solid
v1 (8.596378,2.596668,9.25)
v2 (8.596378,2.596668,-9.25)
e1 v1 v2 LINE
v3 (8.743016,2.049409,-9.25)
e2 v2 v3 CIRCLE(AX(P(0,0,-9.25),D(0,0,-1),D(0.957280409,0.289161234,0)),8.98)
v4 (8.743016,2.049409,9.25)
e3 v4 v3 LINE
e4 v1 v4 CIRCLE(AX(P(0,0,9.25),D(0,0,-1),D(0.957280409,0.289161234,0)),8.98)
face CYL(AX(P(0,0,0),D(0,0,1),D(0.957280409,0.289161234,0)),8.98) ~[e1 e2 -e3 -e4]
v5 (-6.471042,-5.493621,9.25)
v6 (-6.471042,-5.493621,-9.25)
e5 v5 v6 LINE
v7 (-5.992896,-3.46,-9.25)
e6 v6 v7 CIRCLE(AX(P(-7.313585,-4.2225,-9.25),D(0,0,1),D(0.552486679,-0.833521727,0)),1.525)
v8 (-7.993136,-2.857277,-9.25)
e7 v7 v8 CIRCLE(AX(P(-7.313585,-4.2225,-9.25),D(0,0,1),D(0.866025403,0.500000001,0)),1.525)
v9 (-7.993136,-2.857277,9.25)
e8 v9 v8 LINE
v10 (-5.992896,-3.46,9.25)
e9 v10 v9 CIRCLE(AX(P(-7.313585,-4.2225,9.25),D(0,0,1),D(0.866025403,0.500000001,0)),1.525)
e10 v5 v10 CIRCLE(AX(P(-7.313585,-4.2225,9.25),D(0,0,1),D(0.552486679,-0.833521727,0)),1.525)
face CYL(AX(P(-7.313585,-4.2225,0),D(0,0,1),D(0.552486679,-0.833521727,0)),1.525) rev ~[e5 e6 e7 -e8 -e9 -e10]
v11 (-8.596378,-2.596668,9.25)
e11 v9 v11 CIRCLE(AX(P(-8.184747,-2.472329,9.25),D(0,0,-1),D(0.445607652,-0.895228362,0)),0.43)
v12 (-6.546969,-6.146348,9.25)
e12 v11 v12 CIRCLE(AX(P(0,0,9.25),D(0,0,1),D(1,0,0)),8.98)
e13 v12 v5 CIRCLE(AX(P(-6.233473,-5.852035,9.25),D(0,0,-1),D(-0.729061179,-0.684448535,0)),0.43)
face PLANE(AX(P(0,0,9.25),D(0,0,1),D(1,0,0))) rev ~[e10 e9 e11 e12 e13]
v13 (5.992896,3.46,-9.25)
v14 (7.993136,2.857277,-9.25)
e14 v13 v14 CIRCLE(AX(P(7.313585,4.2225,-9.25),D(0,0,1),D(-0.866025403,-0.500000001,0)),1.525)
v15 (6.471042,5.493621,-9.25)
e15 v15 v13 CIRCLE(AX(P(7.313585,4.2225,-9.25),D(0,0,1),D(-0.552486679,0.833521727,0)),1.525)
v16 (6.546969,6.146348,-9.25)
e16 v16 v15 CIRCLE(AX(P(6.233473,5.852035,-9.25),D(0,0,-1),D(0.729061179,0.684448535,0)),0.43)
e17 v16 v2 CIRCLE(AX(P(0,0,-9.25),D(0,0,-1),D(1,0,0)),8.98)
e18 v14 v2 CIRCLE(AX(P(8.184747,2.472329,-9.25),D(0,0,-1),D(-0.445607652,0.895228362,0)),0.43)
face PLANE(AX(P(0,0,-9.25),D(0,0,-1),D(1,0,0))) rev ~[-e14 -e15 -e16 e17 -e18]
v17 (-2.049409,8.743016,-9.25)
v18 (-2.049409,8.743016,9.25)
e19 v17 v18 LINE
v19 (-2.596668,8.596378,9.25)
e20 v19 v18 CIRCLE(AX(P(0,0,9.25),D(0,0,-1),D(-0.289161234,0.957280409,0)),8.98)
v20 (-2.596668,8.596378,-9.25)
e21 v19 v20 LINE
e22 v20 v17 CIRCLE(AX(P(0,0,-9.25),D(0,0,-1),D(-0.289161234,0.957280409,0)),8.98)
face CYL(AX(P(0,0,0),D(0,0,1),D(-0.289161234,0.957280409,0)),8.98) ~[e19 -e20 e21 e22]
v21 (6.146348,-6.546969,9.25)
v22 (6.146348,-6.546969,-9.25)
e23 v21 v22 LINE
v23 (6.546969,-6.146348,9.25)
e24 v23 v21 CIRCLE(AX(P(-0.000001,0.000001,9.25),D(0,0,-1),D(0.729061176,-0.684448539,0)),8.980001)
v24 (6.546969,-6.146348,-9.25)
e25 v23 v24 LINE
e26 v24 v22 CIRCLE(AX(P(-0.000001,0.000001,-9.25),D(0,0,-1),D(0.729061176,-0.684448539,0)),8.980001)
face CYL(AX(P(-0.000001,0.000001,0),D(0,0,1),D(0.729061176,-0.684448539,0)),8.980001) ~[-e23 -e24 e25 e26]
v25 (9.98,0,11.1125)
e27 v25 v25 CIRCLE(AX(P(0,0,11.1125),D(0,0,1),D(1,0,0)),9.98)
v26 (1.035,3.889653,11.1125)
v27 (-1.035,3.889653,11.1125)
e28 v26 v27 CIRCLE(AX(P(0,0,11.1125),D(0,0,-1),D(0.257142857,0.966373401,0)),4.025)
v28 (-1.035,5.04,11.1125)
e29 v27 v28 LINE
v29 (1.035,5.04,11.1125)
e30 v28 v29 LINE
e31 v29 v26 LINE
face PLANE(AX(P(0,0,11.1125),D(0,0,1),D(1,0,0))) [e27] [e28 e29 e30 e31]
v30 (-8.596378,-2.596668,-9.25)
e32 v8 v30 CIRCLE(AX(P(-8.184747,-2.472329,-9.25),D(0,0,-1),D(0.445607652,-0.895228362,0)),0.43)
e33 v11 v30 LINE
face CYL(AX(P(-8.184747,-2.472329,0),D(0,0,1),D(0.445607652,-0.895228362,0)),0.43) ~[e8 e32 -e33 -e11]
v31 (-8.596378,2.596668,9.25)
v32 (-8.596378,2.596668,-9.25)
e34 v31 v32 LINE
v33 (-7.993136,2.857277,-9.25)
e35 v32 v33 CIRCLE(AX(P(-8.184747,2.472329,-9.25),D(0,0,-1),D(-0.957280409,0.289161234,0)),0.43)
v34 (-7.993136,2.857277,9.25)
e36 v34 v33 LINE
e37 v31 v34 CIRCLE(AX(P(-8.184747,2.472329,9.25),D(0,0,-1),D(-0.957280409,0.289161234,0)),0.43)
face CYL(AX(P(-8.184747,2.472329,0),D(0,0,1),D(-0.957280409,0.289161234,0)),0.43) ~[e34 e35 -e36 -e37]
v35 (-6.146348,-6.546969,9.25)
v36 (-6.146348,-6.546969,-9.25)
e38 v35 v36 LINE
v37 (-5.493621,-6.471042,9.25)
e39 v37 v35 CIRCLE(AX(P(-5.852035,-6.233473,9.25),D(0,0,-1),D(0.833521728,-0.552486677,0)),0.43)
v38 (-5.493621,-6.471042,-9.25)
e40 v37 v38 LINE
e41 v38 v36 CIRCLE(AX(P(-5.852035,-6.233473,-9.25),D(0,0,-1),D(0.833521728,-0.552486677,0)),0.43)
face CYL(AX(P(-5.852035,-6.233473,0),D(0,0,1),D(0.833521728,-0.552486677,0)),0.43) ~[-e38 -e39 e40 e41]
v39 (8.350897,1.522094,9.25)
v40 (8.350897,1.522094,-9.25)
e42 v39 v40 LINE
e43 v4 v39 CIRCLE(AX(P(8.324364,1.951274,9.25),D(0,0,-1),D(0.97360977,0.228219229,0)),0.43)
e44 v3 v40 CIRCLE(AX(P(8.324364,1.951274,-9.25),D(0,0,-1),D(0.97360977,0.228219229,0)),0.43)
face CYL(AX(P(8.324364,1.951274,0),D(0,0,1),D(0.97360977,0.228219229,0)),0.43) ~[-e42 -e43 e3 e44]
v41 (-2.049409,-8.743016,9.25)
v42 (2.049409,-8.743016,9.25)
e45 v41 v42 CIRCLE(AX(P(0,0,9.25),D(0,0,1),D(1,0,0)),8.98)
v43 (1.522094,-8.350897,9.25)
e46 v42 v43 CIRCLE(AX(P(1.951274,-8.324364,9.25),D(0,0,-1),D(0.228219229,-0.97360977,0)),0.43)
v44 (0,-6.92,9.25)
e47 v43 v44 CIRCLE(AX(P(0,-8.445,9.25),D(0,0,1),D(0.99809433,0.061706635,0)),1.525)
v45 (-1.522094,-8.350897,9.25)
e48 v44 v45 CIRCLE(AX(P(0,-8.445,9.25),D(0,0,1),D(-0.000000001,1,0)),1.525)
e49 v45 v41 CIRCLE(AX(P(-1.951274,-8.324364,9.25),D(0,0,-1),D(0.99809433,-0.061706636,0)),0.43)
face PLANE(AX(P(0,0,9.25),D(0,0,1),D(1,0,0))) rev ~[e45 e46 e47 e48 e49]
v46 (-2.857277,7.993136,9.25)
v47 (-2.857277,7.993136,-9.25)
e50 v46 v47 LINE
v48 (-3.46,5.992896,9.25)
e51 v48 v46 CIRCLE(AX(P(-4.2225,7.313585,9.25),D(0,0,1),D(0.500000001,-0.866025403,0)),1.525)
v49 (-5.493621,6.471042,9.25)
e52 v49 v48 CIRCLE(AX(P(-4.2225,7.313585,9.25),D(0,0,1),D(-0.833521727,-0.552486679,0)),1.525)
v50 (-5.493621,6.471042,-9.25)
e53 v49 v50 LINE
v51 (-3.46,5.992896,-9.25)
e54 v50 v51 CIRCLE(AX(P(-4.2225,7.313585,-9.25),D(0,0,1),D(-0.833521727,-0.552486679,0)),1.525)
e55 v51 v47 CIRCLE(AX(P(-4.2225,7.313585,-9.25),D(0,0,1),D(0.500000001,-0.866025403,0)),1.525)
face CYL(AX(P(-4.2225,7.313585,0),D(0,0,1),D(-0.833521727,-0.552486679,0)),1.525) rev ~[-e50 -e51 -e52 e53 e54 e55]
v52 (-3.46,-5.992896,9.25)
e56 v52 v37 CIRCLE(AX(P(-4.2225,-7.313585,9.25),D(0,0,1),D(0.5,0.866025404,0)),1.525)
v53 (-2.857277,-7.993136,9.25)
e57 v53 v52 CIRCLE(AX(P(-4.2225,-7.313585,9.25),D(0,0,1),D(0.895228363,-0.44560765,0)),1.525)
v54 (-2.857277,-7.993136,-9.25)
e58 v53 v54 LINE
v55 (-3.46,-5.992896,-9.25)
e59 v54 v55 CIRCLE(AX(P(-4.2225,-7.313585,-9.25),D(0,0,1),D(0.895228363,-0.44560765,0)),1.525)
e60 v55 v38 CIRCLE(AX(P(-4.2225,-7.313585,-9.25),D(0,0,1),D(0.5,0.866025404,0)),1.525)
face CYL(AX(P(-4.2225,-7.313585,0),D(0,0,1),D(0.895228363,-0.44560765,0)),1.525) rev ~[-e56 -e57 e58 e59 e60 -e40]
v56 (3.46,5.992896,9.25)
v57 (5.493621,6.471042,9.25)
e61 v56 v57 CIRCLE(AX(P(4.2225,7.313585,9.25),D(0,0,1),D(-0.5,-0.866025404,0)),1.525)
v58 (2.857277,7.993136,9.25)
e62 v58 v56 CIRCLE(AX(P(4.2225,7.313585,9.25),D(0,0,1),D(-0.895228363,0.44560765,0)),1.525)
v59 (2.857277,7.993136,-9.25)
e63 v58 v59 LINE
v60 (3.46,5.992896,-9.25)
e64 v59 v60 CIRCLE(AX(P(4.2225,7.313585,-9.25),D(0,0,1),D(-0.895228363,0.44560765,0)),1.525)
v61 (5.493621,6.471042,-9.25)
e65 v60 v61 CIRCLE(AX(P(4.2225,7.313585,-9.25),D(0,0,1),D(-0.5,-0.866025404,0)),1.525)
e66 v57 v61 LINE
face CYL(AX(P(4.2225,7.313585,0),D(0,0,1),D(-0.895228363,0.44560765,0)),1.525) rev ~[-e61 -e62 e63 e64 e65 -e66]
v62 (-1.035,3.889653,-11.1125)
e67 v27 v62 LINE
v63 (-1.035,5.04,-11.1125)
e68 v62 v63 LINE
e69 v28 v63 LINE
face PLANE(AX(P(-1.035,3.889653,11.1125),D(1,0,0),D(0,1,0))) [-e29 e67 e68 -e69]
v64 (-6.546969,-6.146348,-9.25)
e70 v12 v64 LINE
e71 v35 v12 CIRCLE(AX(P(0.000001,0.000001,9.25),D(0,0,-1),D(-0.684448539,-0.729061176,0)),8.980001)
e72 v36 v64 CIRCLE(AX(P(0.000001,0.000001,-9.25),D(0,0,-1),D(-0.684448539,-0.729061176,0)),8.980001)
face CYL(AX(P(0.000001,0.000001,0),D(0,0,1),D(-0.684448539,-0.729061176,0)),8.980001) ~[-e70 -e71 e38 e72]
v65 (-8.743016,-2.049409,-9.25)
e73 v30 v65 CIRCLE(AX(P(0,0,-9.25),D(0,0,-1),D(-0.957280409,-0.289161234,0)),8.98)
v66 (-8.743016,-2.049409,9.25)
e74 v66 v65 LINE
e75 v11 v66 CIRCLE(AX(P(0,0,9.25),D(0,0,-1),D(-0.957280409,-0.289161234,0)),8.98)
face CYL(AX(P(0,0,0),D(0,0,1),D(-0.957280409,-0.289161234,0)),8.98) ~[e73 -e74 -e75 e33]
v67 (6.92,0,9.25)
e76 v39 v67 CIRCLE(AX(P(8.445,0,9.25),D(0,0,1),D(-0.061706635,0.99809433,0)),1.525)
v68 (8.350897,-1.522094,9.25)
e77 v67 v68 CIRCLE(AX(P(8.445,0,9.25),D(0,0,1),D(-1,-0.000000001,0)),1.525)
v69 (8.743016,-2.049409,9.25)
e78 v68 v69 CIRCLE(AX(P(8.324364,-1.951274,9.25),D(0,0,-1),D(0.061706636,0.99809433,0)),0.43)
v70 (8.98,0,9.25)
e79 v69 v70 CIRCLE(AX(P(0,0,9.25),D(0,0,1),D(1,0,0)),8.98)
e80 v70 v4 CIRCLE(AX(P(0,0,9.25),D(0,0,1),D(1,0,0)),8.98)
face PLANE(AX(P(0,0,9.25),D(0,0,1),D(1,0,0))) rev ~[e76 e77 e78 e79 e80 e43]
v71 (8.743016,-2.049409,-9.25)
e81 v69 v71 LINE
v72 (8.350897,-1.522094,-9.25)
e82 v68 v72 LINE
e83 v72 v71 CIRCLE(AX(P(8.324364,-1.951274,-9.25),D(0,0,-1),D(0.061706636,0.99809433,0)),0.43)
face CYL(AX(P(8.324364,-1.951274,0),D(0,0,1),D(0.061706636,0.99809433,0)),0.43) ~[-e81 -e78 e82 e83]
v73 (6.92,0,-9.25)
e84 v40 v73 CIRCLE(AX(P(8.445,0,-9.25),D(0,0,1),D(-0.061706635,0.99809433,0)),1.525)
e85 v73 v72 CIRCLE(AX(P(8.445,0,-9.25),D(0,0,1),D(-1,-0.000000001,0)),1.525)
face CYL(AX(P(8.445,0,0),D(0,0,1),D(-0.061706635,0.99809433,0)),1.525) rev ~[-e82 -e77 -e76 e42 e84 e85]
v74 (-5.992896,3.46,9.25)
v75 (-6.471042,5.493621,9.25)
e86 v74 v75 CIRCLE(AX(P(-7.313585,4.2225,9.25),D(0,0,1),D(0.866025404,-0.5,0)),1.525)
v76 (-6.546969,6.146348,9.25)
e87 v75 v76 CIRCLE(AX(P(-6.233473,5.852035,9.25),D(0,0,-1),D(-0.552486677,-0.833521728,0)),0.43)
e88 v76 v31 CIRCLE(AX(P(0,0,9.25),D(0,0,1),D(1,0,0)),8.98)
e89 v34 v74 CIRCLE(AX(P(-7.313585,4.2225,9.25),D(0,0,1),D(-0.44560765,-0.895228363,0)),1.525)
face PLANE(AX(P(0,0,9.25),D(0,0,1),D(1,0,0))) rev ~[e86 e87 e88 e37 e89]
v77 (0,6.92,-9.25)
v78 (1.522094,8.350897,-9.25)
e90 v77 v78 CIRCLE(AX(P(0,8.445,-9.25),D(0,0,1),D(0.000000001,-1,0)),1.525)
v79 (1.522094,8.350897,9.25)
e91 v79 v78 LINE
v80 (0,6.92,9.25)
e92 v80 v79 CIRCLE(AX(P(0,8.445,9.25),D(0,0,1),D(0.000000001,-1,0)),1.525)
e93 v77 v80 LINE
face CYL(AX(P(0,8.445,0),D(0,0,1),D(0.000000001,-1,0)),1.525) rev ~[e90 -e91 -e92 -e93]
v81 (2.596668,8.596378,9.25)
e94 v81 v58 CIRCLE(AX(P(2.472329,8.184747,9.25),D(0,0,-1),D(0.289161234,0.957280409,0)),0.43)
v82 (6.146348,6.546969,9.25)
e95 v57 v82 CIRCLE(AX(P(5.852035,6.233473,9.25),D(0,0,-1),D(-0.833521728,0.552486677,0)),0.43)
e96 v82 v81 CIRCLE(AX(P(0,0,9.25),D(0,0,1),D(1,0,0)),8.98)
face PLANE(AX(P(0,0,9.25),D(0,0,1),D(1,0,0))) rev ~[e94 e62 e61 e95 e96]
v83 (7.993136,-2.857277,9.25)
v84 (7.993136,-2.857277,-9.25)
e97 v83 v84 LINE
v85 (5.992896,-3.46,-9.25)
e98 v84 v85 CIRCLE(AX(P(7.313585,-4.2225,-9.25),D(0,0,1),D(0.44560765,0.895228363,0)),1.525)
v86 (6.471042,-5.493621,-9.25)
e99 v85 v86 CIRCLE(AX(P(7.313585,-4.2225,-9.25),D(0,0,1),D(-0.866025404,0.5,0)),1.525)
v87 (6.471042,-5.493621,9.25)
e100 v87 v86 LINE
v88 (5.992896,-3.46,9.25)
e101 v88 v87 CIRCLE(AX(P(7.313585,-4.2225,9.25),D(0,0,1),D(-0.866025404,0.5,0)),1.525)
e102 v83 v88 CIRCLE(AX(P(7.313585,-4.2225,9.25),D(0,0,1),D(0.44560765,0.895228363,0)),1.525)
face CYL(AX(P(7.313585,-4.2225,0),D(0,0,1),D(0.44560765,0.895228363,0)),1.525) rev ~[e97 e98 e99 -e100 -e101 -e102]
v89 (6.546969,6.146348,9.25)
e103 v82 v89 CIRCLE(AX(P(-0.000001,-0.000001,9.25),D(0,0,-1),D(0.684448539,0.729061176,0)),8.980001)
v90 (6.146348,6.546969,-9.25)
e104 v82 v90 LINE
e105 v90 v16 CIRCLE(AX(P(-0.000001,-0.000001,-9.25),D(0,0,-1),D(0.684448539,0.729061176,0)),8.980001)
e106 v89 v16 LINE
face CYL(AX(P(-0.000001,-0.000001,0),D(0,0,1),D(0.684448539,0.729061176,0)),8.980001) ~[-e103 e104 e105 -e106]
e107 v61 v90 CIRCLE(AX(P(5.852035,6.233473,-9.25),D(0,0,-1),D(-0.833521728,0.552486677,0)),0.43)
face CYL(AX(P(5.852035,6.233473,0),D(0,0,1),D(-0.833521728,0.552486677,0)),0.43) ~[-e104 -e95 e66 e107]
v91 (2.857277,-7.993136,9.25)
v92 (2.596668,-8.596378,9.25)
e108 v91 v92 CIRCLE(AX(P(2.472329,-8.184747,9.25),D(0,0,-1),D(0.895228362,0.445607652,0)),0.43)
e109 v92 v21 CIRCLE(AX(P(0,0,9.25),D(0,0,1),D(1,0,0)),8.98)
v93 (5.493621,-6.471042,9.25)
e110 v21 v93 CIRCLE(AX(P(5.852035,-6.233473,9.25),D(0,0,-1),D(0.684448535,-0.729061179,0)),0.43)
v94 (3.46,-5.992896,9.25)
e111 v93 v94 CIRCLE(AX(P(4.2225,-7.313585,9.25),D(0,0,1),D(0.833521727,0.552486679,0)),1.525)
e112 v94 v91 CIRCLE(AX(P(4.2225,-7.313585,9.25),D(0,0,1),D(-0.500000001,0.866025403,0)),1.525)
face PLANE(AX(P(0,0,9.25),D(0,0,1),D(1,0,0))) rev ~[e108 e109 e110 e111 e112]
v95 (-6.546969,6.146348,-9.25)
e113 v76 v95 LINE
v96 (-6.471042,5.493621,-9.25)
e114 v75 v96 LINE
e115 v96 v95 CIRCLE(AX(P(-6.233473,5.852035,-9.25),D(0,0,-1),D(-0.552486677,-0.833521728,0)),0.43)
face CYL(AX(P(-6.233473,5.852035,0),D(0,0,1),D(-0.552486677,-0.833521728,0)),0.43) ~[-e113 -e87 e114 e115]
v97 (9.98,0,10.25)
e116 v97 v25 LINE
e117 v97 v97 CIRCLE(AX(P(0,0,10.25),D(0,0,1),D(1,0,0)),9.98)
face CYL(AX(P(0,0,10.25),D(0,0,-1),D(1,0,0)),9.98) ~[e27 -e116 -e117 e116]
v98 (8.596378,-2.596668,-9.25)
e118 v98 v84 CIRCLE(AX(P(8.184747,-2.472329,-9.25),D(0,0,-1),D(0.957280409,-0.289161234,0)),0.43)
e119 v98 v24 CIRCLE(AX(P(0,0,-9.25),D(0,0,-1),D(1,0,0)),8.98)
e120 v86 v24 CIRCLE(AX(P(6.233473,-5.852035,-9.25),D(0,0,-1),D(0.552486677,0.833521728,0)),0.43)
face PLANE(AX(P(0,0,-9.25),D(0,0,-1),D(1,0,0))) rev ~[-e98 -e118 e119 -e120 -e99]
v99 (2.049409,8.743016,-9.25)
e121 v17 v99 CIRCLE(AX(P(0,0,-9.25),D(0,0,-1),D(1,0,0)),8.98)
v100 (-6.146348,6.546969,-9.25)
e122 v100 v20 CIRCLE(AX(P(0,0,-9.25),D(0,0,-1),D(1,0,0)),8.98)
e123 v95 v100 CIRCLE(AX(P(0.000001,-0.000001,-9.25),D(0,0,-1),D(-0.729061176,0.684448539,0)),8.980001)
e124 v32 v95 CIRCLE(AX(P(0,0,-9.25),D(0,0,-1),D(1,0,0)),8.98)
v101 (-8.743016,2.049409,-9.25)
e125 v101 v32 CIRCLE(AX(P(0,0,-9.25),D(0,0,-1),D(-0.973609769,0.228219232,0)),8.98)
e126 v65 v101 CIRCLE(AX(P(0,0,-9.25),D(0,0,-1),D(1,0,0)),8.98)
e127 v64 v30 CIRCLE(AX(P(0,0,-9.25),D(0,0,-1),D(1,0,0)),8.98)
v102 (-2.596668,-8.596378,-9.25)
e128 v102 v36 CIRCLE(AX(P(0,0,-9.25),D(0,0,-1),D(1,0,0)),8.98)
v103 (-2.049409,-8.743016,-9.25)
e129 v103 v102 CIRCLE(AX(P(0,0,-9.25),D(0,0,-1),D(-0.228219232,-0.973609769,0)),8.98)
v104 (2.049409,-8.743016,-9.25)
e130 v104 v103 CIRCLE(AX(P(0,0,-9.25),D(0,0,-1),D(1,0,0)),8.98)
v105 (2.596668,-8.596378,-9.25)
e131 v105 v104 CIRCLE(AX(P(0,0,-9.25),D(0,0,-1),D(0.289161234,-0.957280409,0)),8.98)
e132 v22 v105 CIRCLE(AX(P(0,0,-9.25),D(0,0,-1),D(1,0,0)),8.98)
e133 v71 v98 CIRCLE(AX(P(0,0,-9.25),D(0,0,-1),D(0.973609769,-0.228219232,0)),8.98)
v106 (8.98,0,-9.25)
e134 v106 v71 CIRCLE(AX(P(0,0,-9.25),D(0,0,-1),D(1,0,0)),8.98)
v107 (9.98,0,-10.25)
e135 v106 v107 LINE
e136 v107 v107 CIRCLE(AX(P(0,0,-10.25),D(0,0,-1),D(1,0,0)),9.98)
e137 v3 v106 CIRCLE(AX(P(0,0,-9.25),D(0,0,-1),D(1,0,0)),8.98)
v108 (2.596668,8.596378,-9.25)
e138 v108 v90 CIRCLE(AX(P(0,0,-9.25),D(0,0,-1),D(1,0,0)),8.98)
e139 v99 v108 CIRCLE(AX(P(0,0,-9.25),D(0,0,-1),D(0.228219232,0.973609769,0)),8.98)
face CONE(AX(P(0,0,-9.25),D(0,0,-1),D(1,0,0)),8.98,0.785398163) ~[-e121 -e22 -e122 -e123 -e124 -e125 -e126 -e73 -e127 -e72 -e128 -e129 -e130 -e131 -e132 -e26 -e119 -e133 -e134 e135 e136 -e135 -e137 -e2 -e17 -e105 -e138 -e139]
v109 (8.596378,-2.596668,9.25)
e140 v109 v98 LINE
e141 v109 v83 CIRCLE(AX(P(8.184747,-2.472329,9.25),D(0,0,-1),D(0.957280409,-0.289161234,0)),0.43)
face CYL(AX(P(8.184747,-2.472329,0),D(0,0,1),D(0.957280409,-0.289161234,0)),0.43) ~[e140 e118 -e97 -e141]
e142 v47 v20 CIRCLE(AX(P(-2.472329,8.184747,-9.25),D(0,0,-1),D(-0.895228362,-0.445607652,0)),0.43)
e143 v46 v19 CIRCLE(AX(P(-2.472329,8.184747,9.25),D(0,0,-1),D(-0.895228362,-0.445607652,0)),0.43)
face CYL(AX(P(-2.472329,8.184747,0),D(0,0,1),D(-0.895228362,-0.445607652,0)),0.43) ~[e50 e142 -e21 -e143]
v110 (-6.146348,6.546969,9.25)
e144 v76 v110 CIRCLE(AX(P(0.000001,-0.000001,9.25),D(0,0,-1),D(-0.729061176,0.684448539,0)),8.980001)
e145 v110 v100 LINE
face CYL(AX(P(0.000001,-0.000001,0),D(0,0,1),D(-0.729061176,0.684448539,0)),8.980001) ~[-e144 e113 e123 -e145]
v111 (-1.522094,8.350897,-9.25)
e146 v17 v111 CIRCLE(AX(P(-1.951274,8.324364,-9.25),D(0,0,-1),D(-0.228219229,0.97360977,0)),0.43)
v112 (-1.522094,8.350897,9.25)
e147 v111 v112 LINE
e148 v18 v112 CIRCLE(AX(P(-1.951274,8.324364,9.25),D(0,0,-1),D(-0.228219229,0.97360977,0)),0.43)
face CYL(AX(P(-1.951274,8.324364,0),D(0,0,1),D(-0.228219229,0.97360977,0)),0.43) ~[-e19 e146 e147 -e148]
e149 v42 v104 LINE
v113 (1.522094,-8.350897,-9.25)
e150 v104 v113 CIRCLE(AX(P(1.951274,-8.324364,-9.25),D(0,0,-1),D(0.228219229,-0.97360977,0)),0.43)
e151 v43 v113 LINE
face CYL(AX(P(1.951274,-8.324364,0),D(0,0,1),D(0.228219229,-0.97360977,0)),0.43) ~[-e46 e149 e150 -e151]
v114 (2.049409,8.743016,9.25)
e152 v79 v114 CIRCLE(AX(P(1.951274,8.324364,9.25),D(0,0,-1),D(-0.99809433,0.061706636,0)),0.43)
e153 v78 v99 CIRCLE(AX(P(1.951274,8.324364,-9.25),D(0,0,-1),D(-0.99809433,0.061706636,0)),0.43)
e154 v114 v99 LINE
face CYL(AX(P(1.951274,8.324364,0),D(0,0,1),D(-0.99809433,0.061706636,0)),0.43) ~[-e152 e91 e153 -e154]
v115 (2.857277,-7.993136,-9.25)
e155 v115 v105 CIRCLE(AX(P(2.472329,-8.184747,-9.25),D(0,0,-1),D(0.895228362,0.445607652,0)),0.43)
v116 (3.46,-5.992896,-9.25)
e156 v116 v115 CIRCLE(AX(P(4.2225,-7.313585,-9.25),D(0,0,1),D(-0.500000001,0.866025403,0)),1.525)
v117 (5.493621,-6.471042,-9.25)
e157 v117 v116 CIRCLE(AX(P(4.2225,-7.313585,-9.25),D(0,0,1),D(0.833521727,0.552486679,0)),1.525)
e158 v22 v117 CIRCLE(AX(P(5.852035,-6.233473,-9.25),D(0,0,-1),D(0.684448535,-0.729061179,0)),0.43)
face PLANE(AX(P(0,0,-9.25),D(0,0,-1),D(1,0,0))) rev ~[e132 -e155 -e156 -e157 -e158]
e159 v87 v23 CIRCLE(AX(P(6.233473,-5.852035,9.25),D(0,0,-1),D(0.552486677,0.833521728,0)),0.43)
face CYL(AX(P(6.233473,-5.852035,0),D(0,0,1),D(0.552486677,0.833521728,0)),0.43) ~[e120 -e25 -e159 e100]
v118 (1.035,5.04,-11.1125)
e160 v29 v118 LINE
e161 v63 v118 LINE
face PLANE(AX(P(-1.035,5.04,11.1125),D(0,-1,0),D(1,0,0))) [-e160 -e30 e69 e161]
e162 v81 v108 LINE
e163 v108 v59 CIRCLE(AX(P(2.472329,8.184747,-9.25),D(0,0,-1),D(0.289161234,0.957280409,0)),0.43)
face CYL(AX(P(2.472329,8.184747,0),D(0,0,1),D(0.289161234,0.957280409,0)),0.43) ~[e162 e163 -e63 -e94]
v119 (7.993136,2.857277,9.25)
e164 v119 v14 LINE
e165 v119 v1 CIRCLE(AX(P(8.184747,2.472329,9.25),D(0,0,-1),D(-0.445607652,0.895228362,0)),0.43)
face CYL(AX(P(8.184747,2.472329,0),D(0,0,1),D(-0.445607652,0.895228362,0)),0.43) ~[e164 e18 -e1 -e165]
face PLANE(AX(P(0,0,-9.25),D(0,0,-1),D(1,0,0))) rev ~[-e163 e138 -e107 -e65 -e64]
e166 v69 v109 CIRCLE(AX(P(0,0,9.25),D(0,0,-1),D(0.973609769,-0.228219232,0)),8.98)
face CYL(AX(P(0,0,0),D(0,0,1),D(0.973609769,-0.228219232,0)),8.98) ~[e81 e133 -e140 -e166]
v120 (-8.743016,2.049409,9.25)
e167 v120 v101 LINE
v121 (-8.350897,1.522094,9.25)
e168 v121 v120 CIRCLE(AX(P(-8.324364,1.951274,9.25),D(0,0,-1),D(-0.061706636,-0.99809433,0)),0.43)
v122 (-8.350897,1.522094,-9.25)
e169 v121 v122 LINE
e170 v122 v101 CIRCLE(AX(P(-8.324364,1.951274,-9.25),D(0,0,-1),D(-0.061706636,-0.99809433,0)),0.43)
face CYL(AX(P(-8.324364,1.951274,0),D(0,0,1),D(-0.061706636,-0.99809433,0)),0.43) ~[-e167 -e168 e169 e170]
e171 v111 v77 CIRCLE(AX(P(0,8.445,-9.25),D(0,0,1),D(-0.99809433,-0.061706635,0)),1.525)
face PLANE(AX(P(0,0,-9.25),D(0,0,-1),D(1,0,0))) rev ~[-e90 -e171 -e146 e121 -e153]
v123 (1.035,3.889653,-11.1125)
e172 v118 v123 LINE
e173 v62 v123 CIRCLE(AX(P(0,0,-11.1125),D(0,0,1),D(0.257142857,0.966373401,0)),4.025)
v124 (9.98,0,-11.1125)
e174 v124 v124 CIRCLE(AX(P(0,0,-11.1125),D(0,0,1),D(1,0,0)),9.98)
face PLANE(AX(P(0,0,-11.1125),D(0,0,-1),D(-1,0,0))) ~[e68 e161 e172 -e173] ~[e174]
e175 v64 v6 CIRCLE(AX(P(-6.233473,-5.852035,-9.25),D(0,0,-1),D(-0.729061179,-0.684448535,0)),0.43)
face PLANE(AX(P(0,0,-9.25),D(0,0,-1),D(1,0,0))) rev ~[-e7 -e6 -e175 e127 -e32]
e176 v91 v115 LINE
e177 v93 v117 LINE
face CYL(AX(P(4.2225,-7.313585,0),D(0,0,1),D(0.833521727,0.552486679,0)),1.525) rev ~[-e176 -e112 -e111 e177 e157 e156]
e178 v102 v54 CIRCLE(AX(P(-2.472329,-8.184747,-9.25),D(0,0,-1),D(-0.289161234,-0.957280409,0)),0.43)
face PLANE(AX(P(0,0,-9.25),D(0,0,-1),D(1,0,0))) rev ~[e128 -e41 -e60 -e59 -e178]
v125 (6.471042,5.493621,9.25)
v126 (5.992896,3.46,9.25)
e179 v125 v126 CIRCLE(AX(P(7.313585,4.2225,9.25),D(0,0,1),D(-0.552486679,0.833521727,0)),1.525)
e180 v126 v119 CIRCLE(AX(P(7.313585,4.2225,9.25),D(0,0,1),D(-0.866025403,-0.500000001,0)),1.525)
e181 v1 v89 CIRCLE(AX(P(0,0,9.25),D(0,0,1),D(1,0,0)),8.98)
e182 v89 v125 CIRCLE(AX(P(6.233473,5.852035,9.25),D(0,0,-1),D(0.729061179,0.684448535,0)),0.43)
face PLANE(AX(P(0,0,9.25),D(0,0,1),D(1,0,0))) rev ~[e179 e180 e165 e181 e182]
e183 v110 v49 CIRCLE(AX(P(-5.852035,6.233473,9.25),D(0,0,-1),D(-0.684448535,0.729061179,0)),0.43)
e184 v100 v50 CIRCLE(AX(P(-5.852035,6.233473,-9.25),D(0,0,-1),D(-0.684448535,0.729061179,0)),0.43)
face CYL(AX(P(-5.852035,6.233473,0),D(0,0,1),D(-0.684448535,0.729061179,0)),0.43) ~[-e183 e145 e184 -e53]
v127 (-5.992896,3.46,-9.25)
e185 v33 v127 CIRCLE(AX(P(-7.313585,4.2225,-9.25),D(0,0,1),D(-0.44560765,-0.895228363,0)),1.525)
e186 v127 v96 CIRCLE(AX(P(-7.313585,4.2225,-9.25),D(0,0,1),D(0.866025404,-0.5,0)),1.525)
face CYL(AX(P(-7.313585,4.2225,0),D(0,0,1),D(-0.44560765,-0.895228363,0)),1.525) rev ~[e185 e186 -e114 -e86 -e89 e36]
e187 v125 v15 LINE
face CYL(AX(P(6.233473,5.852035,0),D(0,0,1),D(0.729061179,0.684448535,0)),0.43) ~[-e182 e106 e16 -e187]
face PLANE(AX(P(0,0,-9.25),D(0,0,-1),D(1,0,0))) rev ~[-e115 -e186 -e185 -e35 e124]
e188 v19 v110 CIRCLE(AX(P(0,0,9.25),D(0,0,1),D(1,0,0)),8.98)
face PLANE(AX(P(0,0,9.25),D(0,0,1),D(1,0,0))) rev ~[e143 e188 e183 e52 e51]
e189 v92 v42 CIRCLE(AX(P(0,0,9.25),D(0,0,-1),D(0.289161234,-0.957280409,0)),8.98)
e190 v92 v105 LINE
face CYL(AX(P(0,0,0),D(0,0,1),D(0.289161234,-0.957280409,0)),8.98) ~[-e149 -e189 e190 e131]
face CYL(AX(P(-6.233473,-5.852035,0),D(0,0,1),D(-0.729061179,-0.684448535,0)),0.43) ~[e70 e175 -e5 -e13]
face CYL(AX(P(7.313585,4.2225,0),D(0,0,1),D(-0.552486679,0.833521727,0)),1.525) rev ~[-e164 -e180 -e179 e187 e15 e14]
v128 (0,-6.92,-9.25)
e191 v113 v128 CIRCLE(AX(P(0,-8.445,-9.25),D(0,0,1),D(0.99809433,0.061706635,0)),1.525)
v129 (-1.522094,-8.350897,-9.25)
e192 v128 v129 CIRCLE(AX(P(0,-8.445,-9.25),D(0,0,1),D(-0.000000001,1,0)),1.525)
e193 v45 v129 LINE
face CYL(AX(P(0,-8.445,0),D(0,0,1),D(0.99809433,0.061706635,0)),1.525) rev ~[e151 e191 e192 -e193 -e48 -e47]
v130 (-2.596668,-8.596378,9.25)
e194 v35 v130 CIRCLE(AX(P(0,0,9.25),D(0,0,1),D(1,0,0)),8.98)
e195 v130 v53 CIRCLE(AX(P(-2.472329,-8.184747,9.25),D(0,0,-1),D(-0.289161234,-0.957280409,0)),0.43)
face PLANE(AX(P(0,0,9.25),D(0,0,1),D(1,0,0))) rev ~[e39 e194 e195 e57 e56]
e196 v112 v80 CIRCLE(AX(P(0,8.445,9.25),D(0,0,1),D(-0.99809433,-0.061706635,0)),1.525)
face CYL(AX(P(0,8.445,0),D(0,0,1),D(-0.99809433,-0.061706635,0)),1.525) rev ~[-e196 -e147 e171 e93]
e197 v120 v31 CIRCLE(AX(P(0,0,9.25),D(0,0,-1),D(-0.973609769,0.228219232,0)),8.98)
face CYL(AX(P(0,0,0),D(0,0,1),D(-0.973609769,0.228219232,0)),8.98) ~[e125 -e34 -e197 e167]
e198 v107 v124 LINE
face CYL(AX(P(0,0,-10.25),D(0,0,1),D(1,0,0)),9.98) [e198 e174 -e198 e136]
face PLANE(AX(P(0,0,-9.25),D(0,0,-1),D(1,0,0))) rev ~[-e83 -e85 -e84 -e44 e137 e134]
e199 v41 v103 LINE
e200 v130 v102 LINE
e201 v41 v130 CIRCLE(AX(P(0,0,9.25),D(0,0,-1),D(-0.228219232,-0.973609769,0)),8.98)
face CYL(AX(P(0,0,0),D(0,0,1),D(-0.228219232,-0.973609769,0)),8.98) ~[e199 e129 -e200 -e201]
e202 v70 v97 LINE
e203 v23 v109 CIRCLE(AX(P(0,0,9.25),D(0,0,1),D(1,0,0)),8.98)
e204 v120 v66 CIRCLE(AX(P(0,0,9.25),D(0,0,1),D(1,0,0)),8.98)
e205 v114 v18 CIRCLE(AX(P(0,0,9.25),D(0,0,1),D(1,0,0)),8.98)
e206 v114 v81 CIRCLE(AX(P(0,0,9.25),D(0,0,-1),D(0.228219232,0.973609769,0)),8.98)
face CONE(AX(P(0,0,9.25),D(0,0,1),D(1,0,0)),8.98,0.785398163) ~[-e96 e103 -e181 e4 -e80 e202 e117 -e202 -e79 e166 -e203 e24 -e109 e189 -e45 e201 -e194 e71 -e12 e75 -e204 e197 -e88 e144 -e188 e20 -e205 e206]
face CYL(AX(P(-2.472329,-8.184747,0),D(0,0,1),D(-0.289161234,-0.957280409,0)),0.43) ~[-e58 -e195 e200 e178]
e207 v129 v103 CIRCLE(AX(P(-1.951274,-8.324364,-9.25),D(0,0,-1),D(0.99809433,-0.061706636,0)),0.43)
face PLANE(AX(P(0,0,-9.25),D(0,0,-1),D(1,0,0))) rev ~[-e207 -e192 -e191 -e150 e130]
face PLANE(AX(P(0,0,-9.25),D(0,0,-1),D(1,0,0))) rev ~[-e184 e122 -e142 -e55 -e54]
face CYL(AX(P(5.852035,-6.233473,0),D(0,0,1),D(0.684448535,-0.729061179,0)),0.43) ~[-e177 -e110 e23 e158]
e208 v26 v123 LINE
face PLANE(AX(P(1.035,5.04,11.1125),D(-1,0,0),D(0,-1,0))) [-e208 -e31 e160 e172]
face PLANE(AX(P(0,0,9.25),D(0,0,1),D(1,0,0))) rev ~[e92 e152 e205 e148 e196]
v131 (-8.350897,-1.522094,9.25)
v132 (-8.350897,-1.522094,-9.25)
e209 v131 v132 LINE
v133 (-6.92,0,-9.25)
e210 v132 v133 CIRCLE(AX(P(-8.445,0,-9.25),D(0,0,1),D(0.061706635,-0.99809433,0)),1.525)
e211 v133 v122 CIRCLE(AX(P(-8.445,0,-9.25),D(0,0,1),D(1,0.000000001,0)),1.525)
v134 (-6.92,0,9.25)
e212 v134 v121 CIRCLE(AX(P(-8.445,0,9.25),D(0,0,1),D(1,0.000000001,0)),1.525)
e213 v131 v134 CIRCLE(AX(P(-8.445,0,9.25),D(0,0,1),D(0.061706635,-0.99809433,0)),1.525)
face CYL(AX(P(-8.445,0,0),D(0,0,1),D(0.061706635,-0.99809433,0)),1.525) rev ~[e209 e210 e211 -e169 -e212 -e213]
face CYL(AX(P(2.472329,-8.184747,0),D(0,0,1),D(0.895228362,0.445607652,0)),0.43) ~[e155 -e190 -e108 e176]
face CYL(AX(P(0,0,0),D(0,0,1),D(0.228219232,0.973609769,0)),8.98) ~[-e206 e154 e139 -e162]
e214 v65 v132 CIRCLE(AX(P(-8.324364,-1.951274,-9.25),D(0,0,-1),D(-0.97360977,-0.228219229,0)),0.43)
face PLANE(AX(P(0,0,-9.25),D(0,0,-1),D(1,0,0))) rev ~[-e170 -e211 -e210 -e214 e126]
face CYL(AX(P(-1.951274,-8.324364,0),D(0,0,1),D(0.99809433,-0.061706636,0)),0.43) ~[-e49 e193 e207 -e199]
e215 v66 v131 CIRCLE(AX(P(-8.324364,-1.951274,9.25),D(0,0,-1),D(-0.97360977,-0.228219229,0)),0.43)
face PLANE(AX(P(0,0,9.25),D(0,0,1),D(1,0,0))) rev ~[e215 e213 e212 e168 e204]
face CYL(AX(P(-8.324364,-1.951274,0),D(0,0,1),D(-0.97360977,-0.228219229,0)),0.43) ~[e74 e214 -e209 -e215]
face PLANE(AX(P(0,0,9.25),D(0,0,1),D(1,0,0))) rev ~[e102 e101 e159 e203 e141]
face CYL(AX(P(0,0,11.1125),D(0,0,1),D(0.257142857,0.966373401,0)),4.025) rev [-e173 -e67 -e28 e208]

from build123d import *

# Parameters (mm, degrees)
SALIENTE_EXTRUIR1_DEPTH   = 9.25
CROQUIS5_R                = 8.98
SALIENTE_EXTRUIR2_DEPTH   = 1
SALIENTE_EXTRUIR2_DRAFT   = -45
CROQUIS8_R                = 9.98
SALIENTE_EXTRUIR3_DEPTH   = 0.86250003
SIMETR_A1_COPY_1_SKETCH_R = 8.98
SIMETR_A1_COPY_1_DEPTH    = 1
SIMETR_A1_COPY_1_DRAFT    = -45
CORTAR_EXTRUIR1_DEPTH     = 27.327769136


with BuildPart() as part:
    # Croquis3 → Saliente-Extruir1 (new, symmetric)
    with BuildSketch(Plane.XY):
        with BuildLine():
            ThreePointArc((0, 6.92), (1.044537818, 7.333889859), (1.522093853, 8.350897382))
            ThreePointArc((1.522093853, 8.350897382), (1.69468698, 8.669418435), (2.049408684, 8.74301573))
            ThreePointArc((2.049408684, 8.74301573), (2.324195025, 8.67401392), (2.596667882, 8.596378069))
            ThreePointArc((2.596667882, 8.596378069), (2.867067241, 8.355280091), (2.857276747, 7.993136203))
            ThreePointArc((2.857276747, 7.993136203), (2.762348644, 6.873603835), (3.46, 5.992895794))
            ThreePointArc((3.46, 5.992895794), (4.571541215, 5.829066017), (5.493620634, 6.47104235))
            ThreePointArc((5.493620634, 6.47104235), (5.802351194, 6.660593111), (6.146347848, 6.546969386))
            ThreePointArc((6.146347848, 6.546969386), (6.349818895, 6.349818895), (6.546969386, 6.146347848))
            ThreePointArc((6.546969386, 6.146347848), (6.660593111, 5.802351194), (6.47104235, 5.493620634))
            ThreePointArc((6.47104235, 5.493620634), (5.829066017, 4.571541215), (5.992895794, 3.46))
            ThreePointArc((5.992895794, 3.46), (6.873603835, 2.762348644), (7.993136203, 2.857276747))
            ThreePointArc((7.993136203, 2.857276747), (8.355280091, 2.867067241), (8.596378069, 2.596667882))
            ThreePointArc((8.596378069, 2.596667882), (8.67401392, 2.324195025), (8.74301573, 2.049408684))
            ThreePointArc((8.74301573, 2.049408684), (8.669418435, 1.69468698), (8.350897382, 1.522093853))
            ThreePointArc((8.350897382, 1.522093853), (7.333889859, 1.044537818), (6.92, 0))
            ThreePointArc((6.92, 0), (7.333889859, -1.044537818), (8.350897382, -1.522093853))
            ThreePointArc((8.350897382, -1.522093853), (8.669418435, -1.69468698), (8.74301573, -2.049408684))
            ThreePointArc((8.74301573, -2.049408684), (8.67401392, -2.324195025), (8.596378069, -2.596667882))
            ThreePointArc((8.596378069, -2.596667882), (8.355280091, -2.867067241), (7.993136203, -2.857276747))
            ThreePointArc((7.993136203, -2.857276747), (6.873603835, -2.762348644), (5.992895794, -3.46))
            ThreePointArc((5.992895794, -3.46), (5.829066017, -4.571541215), (6.47104235, -5.493620634))
            ThreePointArc((6.47104235, -5.493620634), (6.660593111, -5.802351194), (6.546969386, -6.146347848))
            ThreePointArc((6.546969386, -6.146347848), (6.349818895, -6.349818895), (6.146347848, -6.546969386))
            ThreePointArc((6.146347848, -6.546969386), (5.802351194, -6.660593111), (5.493620634, -6.47104235))
            ThreePointArc((5.493620634, -6.47104235), (4.571541215, -5.829066017), (3.46, -5.992895794))
            ThreePointArc((3.46, -5.992895794), (2.762348644, -6.873603835), (2.857276747, -7.993136203))
            ThreePointArc((2.857276747, -7.993136203), (2.867067241, -8.355280091), (2.596667882, -8.596378069))
            ThreePointArc((2.596667882, -8.596378069), (2.324195025, -8.67401392), (2.049408684, -8.74301573))
            ThreePointArc((2.049408684, -8.74301573), (1.69468698, -8.669418435), (1.522093853, -8.350897382))
            ThreePointArc((1.522093853, -8.350897382), (1.044537818, -7.333889859), (0, -6.92))
            ThreePointArc((0, -6.92), (-1.044537818, -7.333889859), (-1.522093853, -8.350897382))
            ThreePointArc((-1.522093853, -8.350897382), (-1.69468698, -8.669418435), (-2.049408684, -8.74301573))
            ThreePointArc((-2.049408684, -8.74301573), (-2.324195025, -8.67401392), (-2.596667882, -8.596378069))
            ThreePointArc((-2.596667882, -8.596378069), (-2.867067241, -8.355280091), (-2.857276747, -7.993136203))
            ThreePointArc((-2.857276747, -7.993136203), (-2.762348644, -6.873603835), (-3.46, -5.992895794))
            ThreePointArc((-3.46, -5.992895794), (-4.571541215, -5.829066017), (-5.493620634, -6.47104235))
            ThreePointArc((-5.493620634, -6.47104235), (-5.802351194, -6.660593111), (-6.146347848, -6.546969386))
            ThreePointArc((-6.146347848, -6.546969386), (-6.349818895, -6.349818895), (-6.546969386, -6.146347848))
            ThreePointArc((-6.546969386, -6.146347848), (-6.660593111, -5.802351194), (-6.47104235, -5.493620634))
            ThreePointArc((-6.47104235, -5.493620634), (-5.829066017, -4.571541215), (-5.992895794, -3.46))
            ThreePointArc((-5.992895794, -3.46), (-6.873603835, -2.762348644), (-7.993136203, -2.857276747))
            ThreePointArc((-7.993136203, -2.857276747), (-8.355280091, -2.867067241), (-8.596378069, -2.596667882))
            ThreePointArc((-8.596378069, -2.596667882), (-8.67401392, -2.324195025), (-8.74301573, -2.049408684))
            ThreePointArc((-8.74301573, -2.049408684), (-8.669418435, -1.69468698), (-8.350897382, -1.522093853))
            ThreePointArc((-8.350897382, -1.522093853), (-7.333889859, -1.044537818), (-6.92, 0))
            ThreePointArc((-6.92, 0), (-7.333889859, 1.044537818), (-8.350897382, 1.522093853))
            ThreePointArc((-8.350897382, 1.522093853), (-8.669418435, 1.69468698), (-8.74301573, 2.049408684))
            ThreePointArc((-8.74301573, 2.049408684), (-8.67401392, 2.324195025), (-8.596378069, 2.596667882))
            ThreePointArc((-8.596378069, 2.596667882), (-8.355280091, 2.867067241), (-7.993136203, 2.857276747))
            ThreePointArc((-7.993136203, 2.857276747), (-6.873603835, 2.762348644), (-5.992895794, 3.46))
            ThreePointArc((-5.992895794, 3.46), (-5.829066017, 4.571541215), (-6.47104235, 5.493620634))
            ThreePointArc((-6.47104235, 5.493620634), (-6.660593111, 5.802351194), (-6.546969386, 6.146347848))
            ThreePointArc((-6.546969386, 6.146347848), (-6.349818895, 6.349818895), (-6.146347848, 6.546969386))
            ThreePointArc((-6.146347848, 6.546969386), (-5.802351194, 6.660593111), (-5.493620634, 6.47104235))
            ThreePointArc((-5.493620634, 6.47104235), (-4.571541215, 5.829066017), (-3.46, 5.992895794))
            ThreePointArc((-3.46, 5.992895794), (-2.762348644, 6.873603835), (-2.857276747, 7.993136203))
            ThreePointArc((-2.857276747, 7.993136203), (-2.867067241, 8.355280091), (-2.596667882, 8.596378069))
            ThreePointArc((-2.596667882, 8.596378069), (-2.324195025, 8.67401392), (-2.049408684, 8.74301573))
            ThreePointArc((-2.049408684, 8.74301573), (-1.69468698, 8.669418435), (-1.522093853, 8.350897382))
            ThreePointArc((-1.522093853, 8.350897382), (-1.044537818, 7.333889859), (0, 6.92))
        make_face()
    extrude(amount=SALIENTE_EXTRUIR1_DEPTH, both=True)


with BuildPart() as saliente_extruir2_tool:
    # Croquis5 → Saliente-Extruir2 (with draft: the straight prism first)
    with BuildSketch(Plane.XY.offset(9.25)):
        Circle(CROQUIS5_R)
    extrude(amount=SALIENTE_EXTRUIR2_DEPTH)
    # Saliente-Extruir2: the draft: its side faces are tilted about the plane it starts from
    saliente_extruir2_sides = [saliente_extruir2_tool.faces().sort_by_distance(p)[0] for p in [
        (-8.98, 0, 9.75),
    ]]
    draft(saliente_extruir2_sides, Plane.XY.offset(9.25), SALIENTE_EXTRUIR2_DRAFT)


with BuildPart() as part_1:
    add(part.part)

    # Saliente-Extruir2: add saliente_extruir2_tool
    add(saliente_extruir2_tool.part)

    # Croquis8 → Saliente-Extruir3 (add)
    with BuildSketch(Plane.XY.offset(10.25)):
        Circle(CROQUIS8_R)
    saliente_extruir3 = extrude(amount=SALIENTE_EXTRUIR3_DEPTH)


with BuildPart() as simetr_a1_1:
    # Simetría1: Saliente-Extruir3 across plane
    add(saliente_extruir3.mirror(Plane.XY))


with BuildPart() as simetr_a1_copy_1_tool:
    # Simetría1 copy 1 sketch → Simetría1 copy 1 (with draft: the straight prism first)
    with BuildSketch(Plane(origin=(0, 0, -9.25), x_dir=(1, 0, 0), z_dir=(0, 0, -1))):
        Circle(SIMETR_A1_COPY_1_SKETCH_R)
    extrude(amount=SIMETR_A1_COPY_1_DEPTH)
    # Simetría1 copy 1: the draft: its side faces are tilted about the plane it starts from
    simetr_a1_copy_1_sides = [simetr_a1_copy_1_tool.faces().sort_by_distance(p)[0] for p in [
        (-8.98, 0, -9.75),
    ]]
    draft(simetr_a1_copy_1_sides, Plane(origin=(0, 0, -9.25), x_dir=(1, 0, 0), z_dir=(0, 0, -1)), SIMETR_A1_COPY_1_DRAFT)


with BuildPart() as part_2:
    add(part_1.part)

    # Simetría1 copy 1: add simetr_a1_copy_1_tool
    add(simetr_a1_copy_1_tool.part)

    add(simetr_a1_1.part)  # Simetría1 copy 1 merges Simetría1_1

    # Croquis6 → Cortar-Extruir1 (cut, through all)
    with BuildSketch(Plane.XY.offset(11.11250003)):
        with BuildLine():
            Line((-1.035, 3.889652941), (-1.035, 5.04))
            Line((-1.035, 5.04), (1.035, 5.04))
            Line((1.035, 5.04), (1.035, 3.889652941))
            ThreePointArc((1.035, 3.889652941), (0, -4.025), (-1.035, 3.889652941))
        make_face()
    extrude(amount=-CORTAR_EXTRUIR1_DEPTH, mode=Mode.SUBTRACT)


solid = part_2.part
